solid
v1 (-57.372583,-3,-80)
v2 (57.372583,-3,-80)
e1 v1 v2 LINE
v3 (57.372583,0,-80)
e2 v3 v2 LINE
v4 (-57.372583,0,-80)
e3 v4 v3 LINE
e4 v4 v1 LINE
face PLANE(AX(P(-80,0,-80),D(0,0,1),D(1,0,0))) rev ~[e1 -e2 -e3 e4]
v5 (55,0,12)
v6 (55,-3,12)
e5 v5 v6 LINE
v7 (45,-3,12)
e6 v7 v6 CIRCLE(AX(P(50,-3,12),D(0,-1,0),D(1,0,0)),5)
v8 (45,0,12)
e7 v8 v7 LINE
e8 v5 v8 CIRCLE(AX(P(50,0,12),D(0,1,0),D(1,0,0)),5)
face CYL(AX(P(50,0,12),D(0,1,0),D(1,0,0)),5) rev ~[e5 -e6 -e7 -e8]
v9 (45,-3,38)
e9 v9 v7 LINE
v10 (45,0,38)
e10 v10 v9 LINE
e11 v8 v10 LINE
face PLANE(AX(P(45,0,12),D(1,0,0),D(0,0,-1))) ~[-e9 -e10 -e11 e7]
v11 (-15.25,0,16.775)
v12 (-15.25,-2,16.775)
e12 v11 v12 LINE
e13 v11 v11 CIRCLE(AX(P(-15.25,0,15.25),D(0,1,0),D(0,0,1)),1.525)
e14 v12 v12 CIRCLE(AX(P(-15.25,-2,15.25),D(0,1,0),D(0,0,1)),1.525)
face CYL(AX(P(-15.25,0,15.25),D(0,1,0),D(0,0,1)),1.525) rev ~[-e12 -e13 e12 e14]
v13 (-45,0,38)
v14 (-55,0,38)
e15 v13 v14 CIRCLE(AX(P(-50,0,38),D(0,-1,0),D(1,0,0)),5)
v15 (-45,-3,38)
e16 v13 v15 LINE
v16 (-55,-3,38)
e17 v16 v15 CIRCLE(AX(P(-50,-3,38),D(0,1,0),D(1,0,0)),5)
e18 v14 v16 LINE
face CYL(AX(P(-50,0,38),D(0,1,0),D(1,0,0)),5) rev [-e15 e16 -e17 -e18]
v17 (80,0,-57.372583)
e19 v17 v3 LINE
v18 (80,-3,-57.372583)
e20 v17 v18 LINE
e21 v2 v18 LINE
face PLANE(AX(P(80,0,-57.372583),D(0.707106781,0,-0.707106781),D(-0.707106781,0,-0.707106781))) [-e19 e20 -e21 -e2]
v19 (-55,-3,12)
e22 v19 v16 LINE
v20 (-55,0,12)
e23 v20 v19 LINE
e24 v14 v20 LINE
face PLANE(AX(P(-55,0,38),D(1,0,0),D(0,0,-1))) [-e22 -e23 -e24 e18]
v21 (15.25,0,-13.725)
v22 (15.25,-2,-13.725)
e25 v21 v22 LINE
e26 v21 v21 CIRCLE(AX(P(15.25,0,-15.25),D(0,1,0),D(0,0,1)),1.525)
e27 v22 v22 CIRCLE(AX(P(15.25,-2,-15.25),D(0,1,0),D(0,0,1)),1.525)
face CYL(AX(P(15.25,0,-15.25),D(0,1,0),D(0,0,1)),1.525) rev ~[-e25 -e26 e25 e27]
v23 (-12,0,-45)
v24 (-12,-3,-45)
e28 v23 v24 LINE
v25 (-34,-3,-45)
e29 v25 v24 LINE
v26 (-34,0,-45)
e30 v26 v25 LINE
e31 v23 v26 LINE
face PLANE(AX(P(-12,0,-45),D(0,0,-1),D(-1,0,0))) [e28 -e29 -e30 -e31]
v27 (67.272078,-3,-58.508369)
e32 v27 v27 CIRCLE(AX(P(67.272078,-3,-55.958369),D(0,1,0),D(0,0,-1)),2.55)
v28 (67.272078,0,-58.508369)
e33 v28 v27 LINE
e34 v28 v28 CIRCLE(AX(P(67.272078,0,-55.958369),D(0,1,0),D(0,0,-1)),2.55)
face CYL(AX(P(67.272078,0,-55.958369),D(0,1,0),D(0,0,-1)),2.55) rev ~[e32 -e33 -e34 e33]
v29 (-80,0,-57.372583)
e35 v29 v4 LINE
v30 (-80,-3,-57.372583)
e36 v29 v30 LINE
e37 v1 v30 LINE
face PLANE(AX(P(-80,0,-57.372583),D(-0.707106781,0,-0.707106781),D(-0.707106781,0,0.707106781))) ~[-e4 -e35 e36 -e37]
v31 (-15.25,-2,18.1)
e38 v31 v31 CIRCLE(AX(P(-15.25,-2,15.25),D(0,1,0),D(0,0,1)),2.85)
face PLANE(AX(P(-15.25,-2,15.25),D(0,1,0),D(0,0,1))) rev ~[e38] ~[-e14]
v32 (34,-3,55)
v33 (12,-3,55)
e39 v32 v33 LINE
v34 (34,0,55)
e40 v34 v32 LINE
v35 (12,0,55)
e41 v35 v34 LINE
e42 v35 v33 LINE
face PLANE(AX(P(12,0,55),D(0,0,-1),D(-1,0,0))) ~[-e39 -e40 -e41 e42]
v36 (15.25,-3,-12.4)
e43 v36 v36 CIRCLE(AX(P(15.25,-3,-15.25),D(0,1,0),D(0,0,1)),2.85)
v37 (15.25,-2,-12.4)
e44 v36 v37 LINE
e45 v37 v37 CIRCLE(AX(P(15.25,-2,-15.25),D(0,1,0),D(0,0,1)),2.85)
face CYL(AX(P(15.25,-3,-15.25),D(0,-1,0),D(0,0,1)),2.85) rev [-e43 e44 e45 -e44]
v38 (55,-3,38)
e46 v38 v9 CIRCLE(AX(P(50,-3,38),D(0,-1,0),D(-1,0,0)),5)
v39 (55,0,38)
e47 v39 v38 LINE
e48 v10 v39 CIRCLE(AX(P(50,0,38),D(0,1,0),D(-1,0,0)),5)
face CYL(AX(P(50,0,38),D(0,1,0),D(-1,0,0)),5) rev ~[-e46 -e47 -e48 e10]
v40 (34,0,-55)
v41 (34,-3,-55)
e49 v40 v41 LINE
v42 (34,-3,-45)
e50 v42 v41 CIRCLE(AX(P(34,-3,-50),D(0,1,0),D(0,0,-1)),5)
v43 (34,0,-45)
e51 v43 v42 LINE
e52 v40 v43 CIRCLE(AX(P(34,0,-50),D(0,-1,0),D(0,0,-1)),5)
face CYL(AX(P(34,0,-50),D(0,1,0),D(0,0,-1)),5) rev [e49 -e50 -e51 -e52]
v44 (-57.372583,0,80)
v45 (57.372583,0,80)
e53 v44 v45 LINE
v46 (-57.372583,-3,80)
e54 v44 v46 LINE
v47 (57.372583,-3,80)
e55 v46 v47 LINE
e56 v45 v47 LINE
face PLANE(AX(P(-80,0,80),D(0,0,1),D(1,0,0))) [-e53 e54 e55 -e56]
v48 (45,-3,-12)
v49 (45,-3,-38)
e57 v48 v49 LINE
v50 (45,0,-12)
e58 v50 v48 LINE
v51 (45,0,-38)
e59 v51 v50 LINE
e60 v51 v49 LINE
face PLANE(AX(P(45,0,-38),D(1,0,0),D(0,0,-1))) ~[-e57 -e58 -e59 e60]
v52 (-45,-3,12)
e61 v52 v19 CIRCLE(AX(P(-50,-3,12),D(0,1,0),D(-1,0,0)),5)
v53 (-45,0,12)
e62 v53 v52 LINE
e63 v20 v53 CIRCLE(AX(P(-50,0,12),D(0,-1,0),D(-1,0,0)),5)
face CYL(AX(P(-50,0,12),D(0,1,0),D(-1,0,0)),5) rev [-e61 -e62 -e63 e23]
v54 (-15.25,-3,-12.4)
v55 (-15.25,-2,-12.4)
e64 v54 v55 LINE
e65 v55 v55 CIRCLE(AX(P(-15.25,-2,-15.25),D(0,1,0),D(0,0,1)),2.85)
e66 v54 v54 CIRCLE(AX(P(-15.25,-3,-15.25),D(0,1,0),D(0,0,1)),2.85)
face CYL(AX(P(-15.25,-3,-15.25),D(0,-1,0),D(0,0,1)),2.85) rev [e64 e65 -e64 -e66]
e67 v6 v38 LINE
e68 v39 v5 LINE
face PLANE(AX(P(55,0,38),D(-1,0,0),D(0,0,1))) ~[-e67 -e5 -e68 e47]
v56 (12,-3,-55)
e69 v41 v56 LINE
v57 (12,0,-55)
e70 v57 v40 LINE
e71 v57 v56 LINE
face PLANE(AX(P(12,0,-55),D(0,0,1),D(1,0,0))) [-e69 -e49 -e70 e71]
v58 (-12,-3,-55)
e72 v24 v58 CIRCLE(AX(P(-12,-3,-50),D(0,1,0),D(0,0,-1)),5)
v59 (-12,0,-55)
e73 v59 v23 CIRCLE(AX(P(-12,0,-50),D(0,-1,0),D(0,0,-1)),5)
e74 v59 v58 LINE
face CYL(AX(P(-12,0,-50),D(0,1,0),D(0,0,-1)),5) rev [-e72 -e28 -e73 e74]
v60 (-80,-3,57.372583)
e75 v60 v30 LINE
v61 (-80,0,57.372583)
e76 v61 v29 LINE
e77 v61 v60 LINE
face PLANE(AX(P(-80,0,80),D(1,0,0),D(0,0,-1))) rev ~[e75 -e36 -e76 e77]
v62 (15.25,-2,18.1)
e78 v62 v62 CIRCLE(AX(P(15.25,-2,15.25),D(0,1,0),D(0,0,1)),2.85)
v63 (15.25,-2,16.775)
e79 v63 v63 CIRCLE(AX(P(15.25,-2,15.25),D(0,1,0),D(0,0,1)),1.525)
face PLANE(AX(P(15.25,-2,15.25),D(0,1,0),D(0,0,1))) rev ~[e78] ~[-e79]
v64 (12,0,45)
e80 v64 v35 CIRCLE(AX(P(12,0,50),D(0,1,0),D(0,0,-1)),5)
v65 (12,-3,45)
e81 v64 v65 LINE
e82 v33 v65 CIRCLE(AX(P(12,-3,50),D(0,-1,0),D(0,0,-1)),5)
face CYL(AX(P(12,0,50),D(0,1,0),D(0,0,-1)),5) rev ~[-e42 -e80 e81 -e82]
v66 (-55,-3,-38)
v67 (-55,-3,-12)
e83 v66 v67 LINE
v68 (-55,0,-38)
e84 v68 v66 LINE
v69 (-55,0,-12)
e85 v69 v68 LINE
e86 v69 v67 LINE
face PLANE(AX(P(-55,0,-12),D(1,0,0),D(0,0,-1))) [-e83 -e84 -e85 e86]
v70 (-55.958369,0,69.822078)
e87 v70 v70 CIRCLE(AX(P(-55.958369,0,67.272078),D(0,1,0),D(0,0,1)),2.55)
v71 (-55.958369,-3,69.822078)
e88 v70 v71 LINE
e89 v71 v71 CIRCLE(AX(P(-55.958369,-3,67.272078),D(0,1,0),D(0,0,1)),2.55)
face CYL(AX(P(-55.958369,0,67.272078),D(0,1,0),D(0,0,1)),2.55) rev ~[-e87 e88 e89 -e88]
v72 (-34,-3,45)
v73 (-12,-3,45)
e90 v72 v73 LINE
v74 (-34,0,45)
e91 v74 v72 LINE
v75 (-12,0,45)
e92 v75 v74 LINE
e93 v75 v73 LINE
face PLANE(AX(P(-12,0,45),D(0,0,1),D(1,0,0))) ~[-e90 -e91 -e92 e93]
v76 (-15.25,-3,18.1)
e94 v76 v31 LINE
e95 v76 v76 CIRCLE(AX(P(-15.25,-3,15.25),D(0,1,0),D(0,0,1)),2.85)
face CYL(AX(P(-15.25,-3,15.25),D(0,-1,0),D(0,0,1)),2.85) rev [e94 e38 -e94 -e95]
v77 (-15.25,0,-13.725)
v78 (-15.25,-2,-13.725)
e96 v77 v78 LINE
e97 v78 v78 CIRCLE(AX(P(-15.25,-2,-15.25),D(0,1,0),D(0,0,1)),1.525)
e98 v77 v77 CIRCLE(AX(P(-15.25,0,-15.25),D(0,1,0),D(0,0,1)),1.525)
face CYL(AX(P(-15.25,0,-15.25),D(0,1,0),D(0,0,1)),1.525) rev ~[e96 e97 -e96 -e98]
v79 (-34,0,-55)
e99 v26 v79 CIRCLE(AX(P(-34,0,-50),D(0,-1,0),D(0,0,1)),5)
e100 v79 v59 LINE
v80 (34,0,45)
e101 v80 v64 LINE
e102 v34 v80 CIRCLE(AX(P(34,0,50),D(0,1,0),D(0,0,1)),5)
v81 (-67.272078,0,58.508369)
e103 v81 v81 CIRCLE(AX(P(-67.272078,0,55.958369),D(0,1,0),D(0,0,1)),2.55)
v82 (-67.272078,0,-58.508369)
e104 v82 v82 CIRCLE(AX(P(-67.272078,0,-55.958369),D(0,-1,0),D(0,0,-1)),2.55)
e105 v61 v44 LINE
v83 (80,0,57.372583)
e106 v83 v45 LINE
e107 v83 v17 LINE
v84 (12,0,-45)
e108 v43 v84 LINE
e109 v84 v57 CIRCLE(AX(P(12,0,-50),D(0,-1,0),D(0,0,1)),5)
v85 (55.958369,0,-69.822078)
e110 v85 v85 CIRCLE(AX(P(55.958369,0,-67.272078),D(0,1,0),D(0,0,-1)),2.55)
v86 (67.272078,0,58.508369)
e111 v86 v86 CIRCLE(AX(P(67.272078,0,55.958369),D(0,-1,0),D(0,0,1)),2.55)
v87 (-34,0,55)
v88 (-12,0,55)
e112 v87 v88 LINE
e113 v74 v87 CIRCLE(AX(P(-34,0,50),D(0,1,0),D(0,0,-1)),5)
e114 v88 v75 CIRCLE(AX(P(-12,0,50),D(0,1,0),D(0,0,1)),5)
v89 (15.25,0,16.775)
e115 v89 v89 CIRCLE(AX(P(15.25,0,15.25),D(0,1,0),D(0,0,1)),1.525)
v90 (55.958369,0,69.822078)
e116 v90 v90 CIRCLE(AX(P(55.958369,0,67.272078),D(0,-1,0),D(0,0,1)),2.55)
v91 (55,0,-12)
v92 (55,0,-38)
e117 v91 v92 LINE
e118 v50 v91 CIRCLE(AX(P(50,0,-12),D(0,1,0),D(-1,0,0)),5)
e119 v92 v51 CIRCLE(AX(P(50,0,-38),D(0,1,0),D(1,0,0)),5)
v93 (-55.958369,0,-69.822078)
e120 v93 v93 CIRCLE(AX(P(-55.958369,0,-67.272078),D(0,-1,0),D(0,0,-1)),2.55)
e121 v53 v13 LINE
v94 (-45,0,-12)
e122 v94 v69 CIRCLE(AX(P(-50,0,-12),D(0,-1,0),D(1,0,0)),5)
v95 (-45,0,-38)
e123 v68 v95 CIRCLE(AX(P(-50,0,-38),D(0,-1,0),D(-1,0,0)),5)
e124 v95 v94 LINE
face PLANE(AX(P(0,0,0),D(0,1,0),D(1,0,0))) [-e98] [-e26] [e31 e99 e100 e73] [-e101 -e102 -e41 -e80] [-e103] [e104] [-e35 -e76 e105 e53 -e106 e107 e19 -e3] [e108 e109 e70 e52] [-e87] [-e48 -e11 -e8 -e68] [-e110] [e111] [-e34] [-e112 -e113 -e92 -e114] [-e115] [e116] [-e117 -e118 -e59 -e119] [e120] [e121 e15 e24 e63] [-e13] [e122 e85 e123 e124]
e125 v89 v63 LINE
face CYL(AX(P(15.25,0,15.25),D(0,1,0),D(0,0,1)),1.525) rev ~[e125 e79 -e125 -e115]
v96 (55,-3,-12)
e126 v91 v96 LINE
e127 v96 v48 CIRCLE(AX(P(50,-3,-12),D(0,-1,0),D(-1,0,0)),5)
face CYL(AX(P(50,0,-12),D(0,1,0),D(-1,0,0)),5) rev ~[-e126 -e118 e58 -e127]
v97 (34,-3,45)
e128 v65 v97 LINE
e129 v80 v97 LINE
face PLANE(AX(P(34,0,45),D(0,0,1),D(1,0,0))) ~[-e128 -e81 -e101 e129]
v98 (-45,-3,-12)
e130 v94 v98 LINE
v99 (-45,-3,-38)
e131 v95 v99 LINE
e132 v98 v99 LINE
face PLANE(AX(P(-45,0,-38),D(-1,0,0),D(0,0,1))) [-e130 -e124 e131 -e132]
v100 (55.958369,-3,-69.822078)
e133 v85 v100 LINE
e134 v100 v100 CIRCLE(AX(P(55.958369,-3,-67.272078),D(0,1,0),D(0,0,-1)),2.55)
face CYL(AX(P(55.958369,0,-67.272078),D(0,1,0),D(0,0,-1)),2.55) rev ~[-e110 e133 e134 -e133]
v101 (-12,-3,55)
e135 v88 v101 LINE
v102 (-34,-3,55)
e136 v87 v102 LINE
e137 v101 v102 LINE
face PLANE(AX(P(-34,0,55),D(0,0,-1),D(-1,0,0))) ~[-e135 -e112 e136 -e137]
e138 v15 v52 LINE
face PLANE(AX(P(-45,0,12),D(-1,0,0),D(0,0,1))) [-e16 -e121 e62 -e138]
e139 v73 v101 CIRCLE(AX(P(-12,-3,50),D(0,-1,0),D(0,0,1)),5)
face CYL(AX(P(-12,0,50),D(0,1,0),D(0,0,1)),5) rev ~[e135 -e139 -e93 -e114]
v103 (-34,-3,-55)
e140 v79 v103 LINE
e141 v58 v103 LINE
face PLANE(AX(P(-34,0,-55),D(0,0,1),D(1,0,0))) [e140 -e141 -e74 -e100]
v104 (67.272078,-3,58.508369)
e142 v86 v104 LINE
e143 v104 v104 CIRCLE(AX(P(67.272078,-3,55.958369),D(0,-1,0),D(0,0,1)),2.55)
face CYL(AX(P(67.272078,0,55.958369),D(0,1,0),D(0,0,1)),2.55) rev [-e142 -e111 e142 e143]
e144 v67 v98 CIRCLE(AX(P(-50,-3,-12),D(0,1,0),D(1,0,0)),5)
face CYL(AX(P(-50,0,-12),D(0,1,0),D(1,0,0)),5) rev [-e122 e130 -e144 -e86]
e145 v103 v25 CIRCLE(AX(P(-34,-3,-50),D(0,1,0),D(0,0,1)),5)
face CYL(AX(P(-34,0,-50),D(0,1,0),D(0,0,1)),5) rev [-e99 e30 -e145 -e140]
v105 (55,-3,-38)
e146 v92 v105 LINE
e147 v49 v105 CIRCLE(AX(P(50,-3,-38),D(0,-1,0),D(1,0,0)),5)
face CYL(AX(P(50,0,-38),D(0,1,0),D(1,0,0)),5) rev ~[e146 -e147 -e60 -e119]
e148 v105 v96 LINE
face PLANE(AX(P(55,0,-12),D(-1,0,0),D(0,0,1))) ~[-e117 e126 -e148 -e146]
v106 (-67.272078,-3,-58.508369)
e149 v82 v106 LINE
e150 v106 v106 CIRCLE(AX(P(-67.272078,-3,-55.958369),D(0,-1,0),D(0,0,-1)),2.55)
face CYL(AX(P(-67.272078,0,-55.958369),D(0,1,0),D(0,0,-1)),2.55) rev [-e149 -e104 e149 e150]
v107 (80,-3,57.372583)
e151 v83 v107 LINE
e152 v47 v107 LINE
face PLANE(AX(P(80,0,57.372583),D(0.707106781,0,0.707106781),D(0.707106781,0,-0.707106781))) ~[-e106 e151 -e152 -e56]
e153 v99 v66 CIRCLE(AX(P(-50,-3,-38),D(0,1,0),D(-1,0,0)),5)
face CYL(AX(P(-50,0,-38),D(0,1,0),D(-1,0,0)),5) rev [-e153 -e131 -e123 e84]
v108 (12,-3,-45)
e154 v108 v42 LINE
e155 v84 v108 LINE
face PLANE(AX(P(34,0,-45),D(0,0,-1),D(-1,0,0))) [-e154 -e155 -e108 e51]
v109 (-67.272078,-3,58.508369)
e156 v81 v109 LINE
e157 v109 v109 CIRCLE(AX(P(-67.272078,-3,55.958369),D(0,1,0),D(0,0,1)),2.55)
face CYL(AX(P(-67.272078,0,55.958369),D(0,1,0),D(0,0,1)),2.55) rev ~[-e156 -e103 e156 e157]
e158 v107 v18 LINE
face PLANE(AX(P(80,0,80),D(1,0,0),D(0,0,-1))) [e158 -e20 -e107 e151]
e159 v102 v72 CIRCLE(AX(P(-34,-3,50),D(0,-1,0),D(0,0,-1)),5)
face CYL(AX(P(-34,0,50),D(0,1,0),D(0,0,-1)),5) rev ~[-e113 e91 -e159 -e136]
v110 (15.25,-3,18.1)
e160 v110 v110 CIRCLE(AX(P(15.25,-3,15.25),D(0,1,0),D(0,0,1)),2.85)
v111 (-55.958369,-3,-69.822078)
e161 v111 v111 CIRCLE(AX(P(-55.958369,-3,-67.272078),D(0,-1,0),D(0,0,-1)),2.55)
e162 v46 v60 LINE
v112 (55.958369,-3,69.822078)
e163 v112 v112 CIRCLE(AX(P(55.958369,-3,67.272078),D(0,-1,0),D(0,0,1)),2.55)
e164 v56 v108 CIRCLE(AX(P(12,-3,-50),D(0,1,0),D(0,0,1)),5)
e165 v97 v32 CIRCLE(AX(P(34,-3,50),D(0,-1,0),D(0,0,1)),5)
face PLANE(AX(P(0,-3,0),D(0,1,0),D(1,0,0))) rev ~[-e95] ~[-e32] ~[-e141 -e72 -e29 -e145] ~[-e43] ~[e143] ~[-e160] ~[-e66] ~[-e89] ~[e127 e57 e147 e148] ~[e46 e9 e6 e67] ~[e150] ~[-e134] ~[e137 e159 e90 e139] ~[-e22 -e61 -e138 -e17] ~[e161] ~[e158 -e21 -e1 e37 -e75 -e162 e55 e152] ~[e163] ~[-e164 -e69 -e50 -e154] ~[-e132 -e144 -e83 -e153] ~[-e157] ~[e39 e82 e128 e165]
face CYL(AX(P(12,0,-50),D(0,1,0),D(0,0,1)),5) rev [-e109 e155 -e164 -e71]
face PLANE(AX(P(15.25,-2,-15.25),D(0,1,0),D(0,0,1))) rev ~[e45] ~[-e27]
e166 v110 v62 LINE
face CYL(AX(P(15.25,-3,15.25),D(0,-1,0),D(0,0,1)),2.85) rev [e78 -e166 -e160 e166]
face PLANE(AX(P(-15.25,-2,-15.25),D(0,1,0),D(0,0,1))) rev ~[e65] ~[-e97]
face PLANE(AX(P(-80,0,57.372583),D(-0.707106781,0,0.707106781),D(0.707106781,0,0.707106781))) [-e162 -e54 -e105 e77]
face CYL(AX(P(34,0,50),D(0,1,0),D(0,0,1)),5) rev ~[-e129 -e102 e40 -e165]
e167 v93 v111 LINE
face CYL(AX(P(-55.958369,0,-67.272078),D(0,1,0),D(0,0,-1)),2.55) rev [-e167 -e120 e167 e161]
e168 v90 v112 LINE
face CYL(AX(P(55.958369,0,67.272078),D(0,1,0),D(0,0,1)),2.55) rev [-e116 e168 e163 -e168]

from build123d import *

# Parameters (mm, degrees)
SKETCH1_W                                  = 160
SKETCH1_H                                  = 160
BOSS_EXTRUDE1_DEPTH                        = 3
CUT_EXTRUDE2_REACH                         = 115.177
CUT_EXTRUDE1_REACH                         = 115.177
SKETCH2_R                                  = 2.55
MIRROR2_AT_THE_SECOND_PLANE_COPY_1_REACH   = 115.177
MIRROR2_AT_THE_SECOND_PLANE_COPY_2_REACH   = 115.177
MIRROR2_AT_THE_SECOND_PLANE_COPY_2_SKETC_R = 2.55
CUT_EXTRUDE3_REACH                         = 115.177
SKETCH8_R                                  = 1.525
CUT_EXTRUDE4_REACH                         = 115.177
SKETCH10_R                                 = 2.85
CUT_EXTRUDE6_DEPTH                         = 1


with BuildPart() as part:
    # Sketch1 → Boss-Extrude1 (new body)
    with BuildSketch(Plane(origin=(0, 0, 0), x_dir=(1, 0, 0), z_dir=(0, 1, 0))):
        Rectangle(SKETCH1_W, SKETCH1_H)
    extrude(amount=-BOSS_EXTRUDE1_DEPTH)

    # Sketch6 → Cut-Extrude2 (cut, up to next)
    with BuildSketch(Plane(origin=(0, 0, 0), x_dir=(1, 0, 0), z_dir=(0, 1, 0)), mode=Mode.PRIVATE) as cut_extrude2_sk1:
        Polygon((-80, -57.372583002), (-57.372583002, -80), (-80, -80), align=None)
    cut_extrude2_tool1 = extrude(cut_extrude2_sk1.sketch, amount=-CUT_EXTRUDE2_REACH, mode=Mode.PRIVATE) & part.part
    cut_extrude2 = cut_extrude2_tool1.solids().sort_by_distance((-72.457528, 0, 72.457528))[0]
    add(cut_extrude2, mode=Mode.SUBTRACT)

    # Sketch2 → Cut-Extrude1 (cut, up to next)
    with BuildSketch(Plane(origin=(0, 0, 0), x_dir=(1, 0, 0), z_dir=(0, 1, 0)), mode=Mode.PRIVATE) as cut_extrude1_sk1:
        with Locations(Location((-67.272077939, -55.95836944, 0), (0, 0, 270))):
            Circle(SKETCH2_R)
    cut_extrude1_tool1 = extrude(cut_extrude1_sk1.sketch, amount=-CUT_EXTRUDE1_REACH, mode=Mode.PRIVATE) & part.part
    # Sketch2 → Cut-Extrude1 (cut, up to next)
    with BuildSketch(Plane(origin=(0, 0, 0), x_dir=(1, 0, 0), z_dir=(0, 1, 0)), mode=Mode.PRIVATE) as cut_extrude1_sk2:
        with Locations(Location((-55.95836944, -67.272077939, 0), (0, 0, 270))):
            Circle(SKETCH2_R)
    cut_extrude1_tool2 = extrude(cut_extrude1_sk2.sketch, amount=-CUT_EXTRUDE1_REACH, mode=Mode.PRIVATE) & part.part
    cut_extrude1_1 = cut_extrude1_tool1.solids().sort_by_distance((-67.272078, 0, 55.958369))[0]
    add(cut_extrude1_1, mode=Mode.SUBTRACT)
    cut_extrude1_2 = cut_extrude1_tool2.solids().sort_by_distance((-55.958369, 0, 67.272078))[0]
    add(cut_extrude1_2, mode=Mode.SUBTRACT)
    cut_extrude1 = cut_extrude1_1 + cut_extrude1_2  # Cut-Extrude1 as one shape, for the pattern or mirror that repeats it

    # Mirror2: Cut-Extrude2, Cut-Extrude1 across plane
    add(cut_extrude2.mirror(Plane(origin=(0, 0, 0), x_dir=(0, 0, 1), z_dir=(1, 0, 0))), mode=Mode.SUBTRACT)
    add(cut_extrude1.mirror(Plane(origin=(0, 0, 0), x_dir=(0, 0, 1), z_dir=(1, 0, 0))), mode=Mode.SUBTRACT)

    # Mirror2 at the second plane: Cut-Extrude2, Cut-Extrude1 across plane
    add(cut_extrude2.mirror(Plane.XY), mode=Mode.SUBTRACT)
    add(cut_extrude1.mirror(Plane.XY), mode=Mode.SUBTRACT)

    # Mirror2 at the second plane copy 1 sketc → Mirror2 at the second plane copy 1 (cut, up to next)
    with BuildSketch(Plane(origin=(0, 0, 0), x_dir=(-1, 0, 0), z_dir=(0, 1, 0)), mode=Mode.PRIVATE) as mirror2_at_the_second_plane_copy_1_sk1:
        Polygon((-80, -57.372583002), (-57.372583002, -80), (-80, -80), align=None)
    mirror2_at_the_second_plane_copy_1_tool1 = extrude(mirror2_at_the_second_plane_copy_1_sk1.sketch, amount=-MIRROR2_AT_THE_SECOND_PLANE_COPY_1_REACH, mode=Mode.PRIVATE) & part.part
    add(mirror2_at_the_second_plane_copy_1_tool1.solids().sort_by_distance((72.457528, 0, -72.457528))[0], mode=Mode.SUBTRACT)

    # Mirror2 at the second plane copy 2 sketc → Mirror2 at the second plane copy 2 (cut, up to next)
    with BuildSketch(Plane(origin=(0, 0, 0), x_dir=(-1, 0, 0), z_dir=(0, 1, 0)), mode=Mode.PRIVATE) as mirror2_at_the_second_plane_copy_2_sk1:
        with Locations(Location((-67.272077939, -55.95836944, 0), (0, 0, 270))):
            Circle(MIRROR2_AT_THE_SECOND_PLANE_COPY_2_SKETC_R)
    mirror2_at_the_second_plane_copy_2_tool1 = extrude(mirror2_at_the_second_plane_copy_2_sk1.sketch, amount=-MIRROR2_AT_THE_SECOND_PLANE_COPY_2_REACH, mode=Mode.PRIVATE) & part.part
    # Mirror2 at the second plane copy 2 sketc → Mirror2 at the second plane copy 2 (cut, up to next)
    with BuildSketch(Plane(origin=(0, 0, 0), x_dir=(-1, 0, 0), z_dir=(0, 1, 0)), mode=Mode.PRIVATE) as mirror2_at_the_second_plane_copy_2_sk2:
        with Locations(Location((-55.95836944, -67.272077939, 0), (0, 0, 270))):
            Circle(MIRROR2_AT_THE_SECOND_PLANE_COPY_2_SKETC_R)
    mirror2_at_the_second_plane_copy_2_tool2 = extrude(mirror2_at_the_second_plane_copy_2_sk2.sketch, amount=-MIRROR2_AT_THE_SECOND_PLANE_COPY_2_REACH, mode=Mode.PRIVATE) & part.part
    add(mirror2_at_the_second_plane_copy_2_tool1.solids().sort_by_distance((67.272078, 0, -55.958369))[0], mode=Mode.SUBTRACT)
    add(mirror2_at_the_second_plane_copy_2_tool2.solids().sort_by_distance((55.958369, 0, -67.272078))[0], mode=Mode.SUBTRACT)

    # Sketch8 → Cut-Extrude3 (cut, up to next)
    with BuildSketch(Plane(origin=(0, 0, 0), x_dir=(1, 0, 0), z_dir=(0, 1, 0)), mode=Mode.PRIVATE) as cut_extrude3_sk1:
        with Locations(Location((-15.25, 15.25, 0), (0, 0, 270))):
            Circle(SKETCH8_R)
    cut_extrude3_tool1 = extrude(cut_extrude3_sk1.sketch, amount=-CUT_EXTRUDE3_REACH, mode=Mode.PRIVATE) & part.part
    # Sketch8 → Cut-Extrude3 (cut, up to next)
    with BuildSketch(Plane(origin=(0, 0, 0), x_dir=(1, 0, 0), z_dir=(0, 1, 0)), mode=Mode.PRIVATE) as cut_extrude3_sk2:
        with Locations(Location((-15.25, -15.25, 0), (0, 0, 270))):
            Circle(SKETCH8_R)
    cut_extrude3_tool2 = extrude(cut_extrude3_sk2.sketch, amount=-CUT_EXTRUDE3_REACH, mode=Mode.PRIVATE) & part.part
    # Sketch8 → Cut-Extrude3 (cut, up to next)
    with BuildSketch(Plane(origin=(0, 0, 0), x_dir=(1, 0, 0), z_dir=(0, 1, 0)), mode=Mode.PRIVATE) as cut_extrude3_sk3:
        with Locations(Location((15.25, -15.25, 0), (0, 0, 270))):
            Circle(SKETCH8_R)
    cut_extrude3_tool3 = extrude(cut_extrude3_sk3.sketch, amount=-CUT_EXTRUDE3_REACH, mode=Mode.PRIVATE) & part.part
    # Sketch8 → Cut-Extrude3 (cut, up to next)
    with BuildSketch(Plane(origin=(0, 0, 0), x_dir=(1, 0, 0), z_dir=(0, 1, 0)), mode=Mode.PRIVATE) as cut_extrude3_sk4:
        with Locations(Location((15.25, 15.25, 0), (0, 0, 270))):
            Circle(SKETCH8_R)
    cut_extrude3_tool4 = extrude(cut_extrude3_sk4.sketch, amount=-CUT_EXTRUDE3_REACH, mode=Mode.PRIVATE) & part.part
    add(cut_extrude3_tool1.solids().sort_by_distance((-15.25, 0, -15.25))[0], mode=Mode.SUBTRACT)
    add(cut_extrude3_tool2.solids().sort_by_distance((-15.25, 0, 15.25))[0], mode=Mode.SUBTRACT)
    add(cut_extrude3_tool3.solids().sort_by_distance((15.25, 0, 15.25))[0], mode=Mode.SUBTRACT)
    add(cut_extrude3_tool4.solids().sort_by_distance((15.25, 0, -15.25))[0], mode=Mode.SUBTRACT)

    # Sketch9 → Cut-Extrude4 (cut, up to next)
    with BuildSketch(Plane(origin=(0, 0, 0), x_dir=(1, 0, 0), z_dir=(0, 1, 0)), mode=Mode.PRIVATE) as cut_extrude4_sk1:
        with BuildLine():
            Line((-45, 38), (-45, 12))
            ThreePointArc((-45, 12), (-50, 7), (-55, 12))
            Line((-55, 12), (-55, 38))
            ThreePointArc((-55, 38), (-50, 43), (-45, 38))
        make_face()
    cut_extrude4_tool1 = extrude(cut_extrude4_sk1.sketch, amount=-CUT_EXTRUDE4_REACH, mode=Mode.PRIVATE) & part.part
    # Sketch9 → Cut-Extrude4 (cut, up to next)
    with BuildSketch(Plane(origin=(0, 0, 0), x_dir=(1, 0, 0), z_dir=(0, 1, 0)), mode=Mode.PRIVATE) as cut_extrude4_sk2:
        with BuildLine():
            Line((-45, -12), (-45, -38))
            ThreePointArc((-45, -38), (-50, -43), (-55, -38))
            Line((-55, -38), (-55, -12))
            ThreePointArc((-55, -12), (-50, -7), (-45, -12))
        make_face()
    cut_extrude4_tool2 = extrude(cut_extrude4_sk2.sketch, amount=-CUT_EXTRUDE4_REACH, mode=Mode.PRIVATE) & part.part
    # Sketch9 → Cut-Extrude4 (cut, up to next)
    with BuildSketch(Plane(origin=(0, 0, 0), x_dir=(1, 0, 0), z_dir=(0, 1, 0)), mode=Mode.PRIVATE) as cut_extrude4_sk3:
        with BuildLine():
            Line((-34, 55), (-12, 55))
            ThreePointArc((-12, 55), (-7, 50), (-12, 45))
            Line((-12, 45), (-34, 45))
            ThreePointArc((-34, 45), (-39, 50), (-34, 55))
        make_face()
    cut_extrude4_tool3 = extrude(cut_extrude4_sk3.sketch, amount=-CUT_EXTRUDE4_REACH, mode=Mode.PRIVATE) & part.part
    # Sketch9 → Cut-Extrude4 (cut, up to next)
    with BuildSketch(Plane(origin=(0, 0, 0), x_dir=(1, 0, 0), z_dir=(0, 1, 0)), mode=Mode.PRIVATE) as cut_extrude4_sk4:
        with BuildLine():
            Line((12, 55), (34, 55))
            ThreePointArc((34, 55), (39, 50), (34, 45))
            Line((34, 45), (12, 45))
            ThreePointArc((12, 45), (7, 50), (12, 55))
        make_face()
    cut_extrude4_tool4 = extrude(cut_extrude4_sk4.sketch, amount=-CUT_EXTRUDE4_REACH, mode=Mode.PRIVATE) & part.part
    cut_extrude4_1 = cut_extrude4_tool1.solids().sort_by_distance((-50, 0, -25))[0]
    add(cut_extrude4_1, mode=Mode.SUBTRACT)
    cut_extrude4_2 = cut_extrude4_tool2.solids().sort_by_distance((-50, 0, 25))[0]
    add(cut_extrude4_2, mode=Mode.SUBTRACT)
    cut_extrude4_3 = cut_extrude4_tool3.solids().sort_by_distance((-23, 0, -50))[0]
    add(cut_extrude4_3, mode=Mode.SUBTRACT)
    cut_extrude4_4 = cut_extrude4_tool4.solids().sort_by_distance((23, 0, -50))[0]
    add(cut_extrude4_4, mode=Mode.SUBTRACT)
    cut_extrude4 = cut_extrude4_1 + cut_extrude4_2 + cut_extrude4_3 + cut_extrude4_4  # Cut-Extrude4 as one shape, for the pattern or mirror that repeats it

    # Mirror3: Cut-Extrude4 across plane
    add(cut_extrude4.mirror(Plane.XY), mode=Mode.SUBTRACT)

    # Mirror3 at the second plane: Cut-Extrude4 across plane
    add(cut_extrude4.mirror(Plane(origin=(0, 0, 0), x_dir=(0, 0, 1), z_dir=(1, 0, 0))), mode=Mode.SUBTRACT)

    # Sketch10 → Cut-Extrude6 (cut)
    with BuildSketch(Plane(origin=(0, -3, 0), x_dir=(1, 0, 0), z_dir=(0, 1, 0))):
        with Locations(Location((-15.25, 15.25, 0), (0, 0, 270))):
            Circle(SKETCH10_R)
        with Locations(Location((15.25, 15.25, 0), (0, 0, 270))):
            Circle(SKETCH10_R)
        with Locations(Location((15.25, -15.25, 0), (0, 0, 270))):
            Circle(SKETCH10_R)
        with Locations(Location((-15.25, -15.25, 0), (0, 0, 270))):
            Circle(SKETCH10_R)
    extrude(amount=CUT_EXTRUDE6_DEPTH, mode=Mode.SUBTRACT)


solid = part.part
